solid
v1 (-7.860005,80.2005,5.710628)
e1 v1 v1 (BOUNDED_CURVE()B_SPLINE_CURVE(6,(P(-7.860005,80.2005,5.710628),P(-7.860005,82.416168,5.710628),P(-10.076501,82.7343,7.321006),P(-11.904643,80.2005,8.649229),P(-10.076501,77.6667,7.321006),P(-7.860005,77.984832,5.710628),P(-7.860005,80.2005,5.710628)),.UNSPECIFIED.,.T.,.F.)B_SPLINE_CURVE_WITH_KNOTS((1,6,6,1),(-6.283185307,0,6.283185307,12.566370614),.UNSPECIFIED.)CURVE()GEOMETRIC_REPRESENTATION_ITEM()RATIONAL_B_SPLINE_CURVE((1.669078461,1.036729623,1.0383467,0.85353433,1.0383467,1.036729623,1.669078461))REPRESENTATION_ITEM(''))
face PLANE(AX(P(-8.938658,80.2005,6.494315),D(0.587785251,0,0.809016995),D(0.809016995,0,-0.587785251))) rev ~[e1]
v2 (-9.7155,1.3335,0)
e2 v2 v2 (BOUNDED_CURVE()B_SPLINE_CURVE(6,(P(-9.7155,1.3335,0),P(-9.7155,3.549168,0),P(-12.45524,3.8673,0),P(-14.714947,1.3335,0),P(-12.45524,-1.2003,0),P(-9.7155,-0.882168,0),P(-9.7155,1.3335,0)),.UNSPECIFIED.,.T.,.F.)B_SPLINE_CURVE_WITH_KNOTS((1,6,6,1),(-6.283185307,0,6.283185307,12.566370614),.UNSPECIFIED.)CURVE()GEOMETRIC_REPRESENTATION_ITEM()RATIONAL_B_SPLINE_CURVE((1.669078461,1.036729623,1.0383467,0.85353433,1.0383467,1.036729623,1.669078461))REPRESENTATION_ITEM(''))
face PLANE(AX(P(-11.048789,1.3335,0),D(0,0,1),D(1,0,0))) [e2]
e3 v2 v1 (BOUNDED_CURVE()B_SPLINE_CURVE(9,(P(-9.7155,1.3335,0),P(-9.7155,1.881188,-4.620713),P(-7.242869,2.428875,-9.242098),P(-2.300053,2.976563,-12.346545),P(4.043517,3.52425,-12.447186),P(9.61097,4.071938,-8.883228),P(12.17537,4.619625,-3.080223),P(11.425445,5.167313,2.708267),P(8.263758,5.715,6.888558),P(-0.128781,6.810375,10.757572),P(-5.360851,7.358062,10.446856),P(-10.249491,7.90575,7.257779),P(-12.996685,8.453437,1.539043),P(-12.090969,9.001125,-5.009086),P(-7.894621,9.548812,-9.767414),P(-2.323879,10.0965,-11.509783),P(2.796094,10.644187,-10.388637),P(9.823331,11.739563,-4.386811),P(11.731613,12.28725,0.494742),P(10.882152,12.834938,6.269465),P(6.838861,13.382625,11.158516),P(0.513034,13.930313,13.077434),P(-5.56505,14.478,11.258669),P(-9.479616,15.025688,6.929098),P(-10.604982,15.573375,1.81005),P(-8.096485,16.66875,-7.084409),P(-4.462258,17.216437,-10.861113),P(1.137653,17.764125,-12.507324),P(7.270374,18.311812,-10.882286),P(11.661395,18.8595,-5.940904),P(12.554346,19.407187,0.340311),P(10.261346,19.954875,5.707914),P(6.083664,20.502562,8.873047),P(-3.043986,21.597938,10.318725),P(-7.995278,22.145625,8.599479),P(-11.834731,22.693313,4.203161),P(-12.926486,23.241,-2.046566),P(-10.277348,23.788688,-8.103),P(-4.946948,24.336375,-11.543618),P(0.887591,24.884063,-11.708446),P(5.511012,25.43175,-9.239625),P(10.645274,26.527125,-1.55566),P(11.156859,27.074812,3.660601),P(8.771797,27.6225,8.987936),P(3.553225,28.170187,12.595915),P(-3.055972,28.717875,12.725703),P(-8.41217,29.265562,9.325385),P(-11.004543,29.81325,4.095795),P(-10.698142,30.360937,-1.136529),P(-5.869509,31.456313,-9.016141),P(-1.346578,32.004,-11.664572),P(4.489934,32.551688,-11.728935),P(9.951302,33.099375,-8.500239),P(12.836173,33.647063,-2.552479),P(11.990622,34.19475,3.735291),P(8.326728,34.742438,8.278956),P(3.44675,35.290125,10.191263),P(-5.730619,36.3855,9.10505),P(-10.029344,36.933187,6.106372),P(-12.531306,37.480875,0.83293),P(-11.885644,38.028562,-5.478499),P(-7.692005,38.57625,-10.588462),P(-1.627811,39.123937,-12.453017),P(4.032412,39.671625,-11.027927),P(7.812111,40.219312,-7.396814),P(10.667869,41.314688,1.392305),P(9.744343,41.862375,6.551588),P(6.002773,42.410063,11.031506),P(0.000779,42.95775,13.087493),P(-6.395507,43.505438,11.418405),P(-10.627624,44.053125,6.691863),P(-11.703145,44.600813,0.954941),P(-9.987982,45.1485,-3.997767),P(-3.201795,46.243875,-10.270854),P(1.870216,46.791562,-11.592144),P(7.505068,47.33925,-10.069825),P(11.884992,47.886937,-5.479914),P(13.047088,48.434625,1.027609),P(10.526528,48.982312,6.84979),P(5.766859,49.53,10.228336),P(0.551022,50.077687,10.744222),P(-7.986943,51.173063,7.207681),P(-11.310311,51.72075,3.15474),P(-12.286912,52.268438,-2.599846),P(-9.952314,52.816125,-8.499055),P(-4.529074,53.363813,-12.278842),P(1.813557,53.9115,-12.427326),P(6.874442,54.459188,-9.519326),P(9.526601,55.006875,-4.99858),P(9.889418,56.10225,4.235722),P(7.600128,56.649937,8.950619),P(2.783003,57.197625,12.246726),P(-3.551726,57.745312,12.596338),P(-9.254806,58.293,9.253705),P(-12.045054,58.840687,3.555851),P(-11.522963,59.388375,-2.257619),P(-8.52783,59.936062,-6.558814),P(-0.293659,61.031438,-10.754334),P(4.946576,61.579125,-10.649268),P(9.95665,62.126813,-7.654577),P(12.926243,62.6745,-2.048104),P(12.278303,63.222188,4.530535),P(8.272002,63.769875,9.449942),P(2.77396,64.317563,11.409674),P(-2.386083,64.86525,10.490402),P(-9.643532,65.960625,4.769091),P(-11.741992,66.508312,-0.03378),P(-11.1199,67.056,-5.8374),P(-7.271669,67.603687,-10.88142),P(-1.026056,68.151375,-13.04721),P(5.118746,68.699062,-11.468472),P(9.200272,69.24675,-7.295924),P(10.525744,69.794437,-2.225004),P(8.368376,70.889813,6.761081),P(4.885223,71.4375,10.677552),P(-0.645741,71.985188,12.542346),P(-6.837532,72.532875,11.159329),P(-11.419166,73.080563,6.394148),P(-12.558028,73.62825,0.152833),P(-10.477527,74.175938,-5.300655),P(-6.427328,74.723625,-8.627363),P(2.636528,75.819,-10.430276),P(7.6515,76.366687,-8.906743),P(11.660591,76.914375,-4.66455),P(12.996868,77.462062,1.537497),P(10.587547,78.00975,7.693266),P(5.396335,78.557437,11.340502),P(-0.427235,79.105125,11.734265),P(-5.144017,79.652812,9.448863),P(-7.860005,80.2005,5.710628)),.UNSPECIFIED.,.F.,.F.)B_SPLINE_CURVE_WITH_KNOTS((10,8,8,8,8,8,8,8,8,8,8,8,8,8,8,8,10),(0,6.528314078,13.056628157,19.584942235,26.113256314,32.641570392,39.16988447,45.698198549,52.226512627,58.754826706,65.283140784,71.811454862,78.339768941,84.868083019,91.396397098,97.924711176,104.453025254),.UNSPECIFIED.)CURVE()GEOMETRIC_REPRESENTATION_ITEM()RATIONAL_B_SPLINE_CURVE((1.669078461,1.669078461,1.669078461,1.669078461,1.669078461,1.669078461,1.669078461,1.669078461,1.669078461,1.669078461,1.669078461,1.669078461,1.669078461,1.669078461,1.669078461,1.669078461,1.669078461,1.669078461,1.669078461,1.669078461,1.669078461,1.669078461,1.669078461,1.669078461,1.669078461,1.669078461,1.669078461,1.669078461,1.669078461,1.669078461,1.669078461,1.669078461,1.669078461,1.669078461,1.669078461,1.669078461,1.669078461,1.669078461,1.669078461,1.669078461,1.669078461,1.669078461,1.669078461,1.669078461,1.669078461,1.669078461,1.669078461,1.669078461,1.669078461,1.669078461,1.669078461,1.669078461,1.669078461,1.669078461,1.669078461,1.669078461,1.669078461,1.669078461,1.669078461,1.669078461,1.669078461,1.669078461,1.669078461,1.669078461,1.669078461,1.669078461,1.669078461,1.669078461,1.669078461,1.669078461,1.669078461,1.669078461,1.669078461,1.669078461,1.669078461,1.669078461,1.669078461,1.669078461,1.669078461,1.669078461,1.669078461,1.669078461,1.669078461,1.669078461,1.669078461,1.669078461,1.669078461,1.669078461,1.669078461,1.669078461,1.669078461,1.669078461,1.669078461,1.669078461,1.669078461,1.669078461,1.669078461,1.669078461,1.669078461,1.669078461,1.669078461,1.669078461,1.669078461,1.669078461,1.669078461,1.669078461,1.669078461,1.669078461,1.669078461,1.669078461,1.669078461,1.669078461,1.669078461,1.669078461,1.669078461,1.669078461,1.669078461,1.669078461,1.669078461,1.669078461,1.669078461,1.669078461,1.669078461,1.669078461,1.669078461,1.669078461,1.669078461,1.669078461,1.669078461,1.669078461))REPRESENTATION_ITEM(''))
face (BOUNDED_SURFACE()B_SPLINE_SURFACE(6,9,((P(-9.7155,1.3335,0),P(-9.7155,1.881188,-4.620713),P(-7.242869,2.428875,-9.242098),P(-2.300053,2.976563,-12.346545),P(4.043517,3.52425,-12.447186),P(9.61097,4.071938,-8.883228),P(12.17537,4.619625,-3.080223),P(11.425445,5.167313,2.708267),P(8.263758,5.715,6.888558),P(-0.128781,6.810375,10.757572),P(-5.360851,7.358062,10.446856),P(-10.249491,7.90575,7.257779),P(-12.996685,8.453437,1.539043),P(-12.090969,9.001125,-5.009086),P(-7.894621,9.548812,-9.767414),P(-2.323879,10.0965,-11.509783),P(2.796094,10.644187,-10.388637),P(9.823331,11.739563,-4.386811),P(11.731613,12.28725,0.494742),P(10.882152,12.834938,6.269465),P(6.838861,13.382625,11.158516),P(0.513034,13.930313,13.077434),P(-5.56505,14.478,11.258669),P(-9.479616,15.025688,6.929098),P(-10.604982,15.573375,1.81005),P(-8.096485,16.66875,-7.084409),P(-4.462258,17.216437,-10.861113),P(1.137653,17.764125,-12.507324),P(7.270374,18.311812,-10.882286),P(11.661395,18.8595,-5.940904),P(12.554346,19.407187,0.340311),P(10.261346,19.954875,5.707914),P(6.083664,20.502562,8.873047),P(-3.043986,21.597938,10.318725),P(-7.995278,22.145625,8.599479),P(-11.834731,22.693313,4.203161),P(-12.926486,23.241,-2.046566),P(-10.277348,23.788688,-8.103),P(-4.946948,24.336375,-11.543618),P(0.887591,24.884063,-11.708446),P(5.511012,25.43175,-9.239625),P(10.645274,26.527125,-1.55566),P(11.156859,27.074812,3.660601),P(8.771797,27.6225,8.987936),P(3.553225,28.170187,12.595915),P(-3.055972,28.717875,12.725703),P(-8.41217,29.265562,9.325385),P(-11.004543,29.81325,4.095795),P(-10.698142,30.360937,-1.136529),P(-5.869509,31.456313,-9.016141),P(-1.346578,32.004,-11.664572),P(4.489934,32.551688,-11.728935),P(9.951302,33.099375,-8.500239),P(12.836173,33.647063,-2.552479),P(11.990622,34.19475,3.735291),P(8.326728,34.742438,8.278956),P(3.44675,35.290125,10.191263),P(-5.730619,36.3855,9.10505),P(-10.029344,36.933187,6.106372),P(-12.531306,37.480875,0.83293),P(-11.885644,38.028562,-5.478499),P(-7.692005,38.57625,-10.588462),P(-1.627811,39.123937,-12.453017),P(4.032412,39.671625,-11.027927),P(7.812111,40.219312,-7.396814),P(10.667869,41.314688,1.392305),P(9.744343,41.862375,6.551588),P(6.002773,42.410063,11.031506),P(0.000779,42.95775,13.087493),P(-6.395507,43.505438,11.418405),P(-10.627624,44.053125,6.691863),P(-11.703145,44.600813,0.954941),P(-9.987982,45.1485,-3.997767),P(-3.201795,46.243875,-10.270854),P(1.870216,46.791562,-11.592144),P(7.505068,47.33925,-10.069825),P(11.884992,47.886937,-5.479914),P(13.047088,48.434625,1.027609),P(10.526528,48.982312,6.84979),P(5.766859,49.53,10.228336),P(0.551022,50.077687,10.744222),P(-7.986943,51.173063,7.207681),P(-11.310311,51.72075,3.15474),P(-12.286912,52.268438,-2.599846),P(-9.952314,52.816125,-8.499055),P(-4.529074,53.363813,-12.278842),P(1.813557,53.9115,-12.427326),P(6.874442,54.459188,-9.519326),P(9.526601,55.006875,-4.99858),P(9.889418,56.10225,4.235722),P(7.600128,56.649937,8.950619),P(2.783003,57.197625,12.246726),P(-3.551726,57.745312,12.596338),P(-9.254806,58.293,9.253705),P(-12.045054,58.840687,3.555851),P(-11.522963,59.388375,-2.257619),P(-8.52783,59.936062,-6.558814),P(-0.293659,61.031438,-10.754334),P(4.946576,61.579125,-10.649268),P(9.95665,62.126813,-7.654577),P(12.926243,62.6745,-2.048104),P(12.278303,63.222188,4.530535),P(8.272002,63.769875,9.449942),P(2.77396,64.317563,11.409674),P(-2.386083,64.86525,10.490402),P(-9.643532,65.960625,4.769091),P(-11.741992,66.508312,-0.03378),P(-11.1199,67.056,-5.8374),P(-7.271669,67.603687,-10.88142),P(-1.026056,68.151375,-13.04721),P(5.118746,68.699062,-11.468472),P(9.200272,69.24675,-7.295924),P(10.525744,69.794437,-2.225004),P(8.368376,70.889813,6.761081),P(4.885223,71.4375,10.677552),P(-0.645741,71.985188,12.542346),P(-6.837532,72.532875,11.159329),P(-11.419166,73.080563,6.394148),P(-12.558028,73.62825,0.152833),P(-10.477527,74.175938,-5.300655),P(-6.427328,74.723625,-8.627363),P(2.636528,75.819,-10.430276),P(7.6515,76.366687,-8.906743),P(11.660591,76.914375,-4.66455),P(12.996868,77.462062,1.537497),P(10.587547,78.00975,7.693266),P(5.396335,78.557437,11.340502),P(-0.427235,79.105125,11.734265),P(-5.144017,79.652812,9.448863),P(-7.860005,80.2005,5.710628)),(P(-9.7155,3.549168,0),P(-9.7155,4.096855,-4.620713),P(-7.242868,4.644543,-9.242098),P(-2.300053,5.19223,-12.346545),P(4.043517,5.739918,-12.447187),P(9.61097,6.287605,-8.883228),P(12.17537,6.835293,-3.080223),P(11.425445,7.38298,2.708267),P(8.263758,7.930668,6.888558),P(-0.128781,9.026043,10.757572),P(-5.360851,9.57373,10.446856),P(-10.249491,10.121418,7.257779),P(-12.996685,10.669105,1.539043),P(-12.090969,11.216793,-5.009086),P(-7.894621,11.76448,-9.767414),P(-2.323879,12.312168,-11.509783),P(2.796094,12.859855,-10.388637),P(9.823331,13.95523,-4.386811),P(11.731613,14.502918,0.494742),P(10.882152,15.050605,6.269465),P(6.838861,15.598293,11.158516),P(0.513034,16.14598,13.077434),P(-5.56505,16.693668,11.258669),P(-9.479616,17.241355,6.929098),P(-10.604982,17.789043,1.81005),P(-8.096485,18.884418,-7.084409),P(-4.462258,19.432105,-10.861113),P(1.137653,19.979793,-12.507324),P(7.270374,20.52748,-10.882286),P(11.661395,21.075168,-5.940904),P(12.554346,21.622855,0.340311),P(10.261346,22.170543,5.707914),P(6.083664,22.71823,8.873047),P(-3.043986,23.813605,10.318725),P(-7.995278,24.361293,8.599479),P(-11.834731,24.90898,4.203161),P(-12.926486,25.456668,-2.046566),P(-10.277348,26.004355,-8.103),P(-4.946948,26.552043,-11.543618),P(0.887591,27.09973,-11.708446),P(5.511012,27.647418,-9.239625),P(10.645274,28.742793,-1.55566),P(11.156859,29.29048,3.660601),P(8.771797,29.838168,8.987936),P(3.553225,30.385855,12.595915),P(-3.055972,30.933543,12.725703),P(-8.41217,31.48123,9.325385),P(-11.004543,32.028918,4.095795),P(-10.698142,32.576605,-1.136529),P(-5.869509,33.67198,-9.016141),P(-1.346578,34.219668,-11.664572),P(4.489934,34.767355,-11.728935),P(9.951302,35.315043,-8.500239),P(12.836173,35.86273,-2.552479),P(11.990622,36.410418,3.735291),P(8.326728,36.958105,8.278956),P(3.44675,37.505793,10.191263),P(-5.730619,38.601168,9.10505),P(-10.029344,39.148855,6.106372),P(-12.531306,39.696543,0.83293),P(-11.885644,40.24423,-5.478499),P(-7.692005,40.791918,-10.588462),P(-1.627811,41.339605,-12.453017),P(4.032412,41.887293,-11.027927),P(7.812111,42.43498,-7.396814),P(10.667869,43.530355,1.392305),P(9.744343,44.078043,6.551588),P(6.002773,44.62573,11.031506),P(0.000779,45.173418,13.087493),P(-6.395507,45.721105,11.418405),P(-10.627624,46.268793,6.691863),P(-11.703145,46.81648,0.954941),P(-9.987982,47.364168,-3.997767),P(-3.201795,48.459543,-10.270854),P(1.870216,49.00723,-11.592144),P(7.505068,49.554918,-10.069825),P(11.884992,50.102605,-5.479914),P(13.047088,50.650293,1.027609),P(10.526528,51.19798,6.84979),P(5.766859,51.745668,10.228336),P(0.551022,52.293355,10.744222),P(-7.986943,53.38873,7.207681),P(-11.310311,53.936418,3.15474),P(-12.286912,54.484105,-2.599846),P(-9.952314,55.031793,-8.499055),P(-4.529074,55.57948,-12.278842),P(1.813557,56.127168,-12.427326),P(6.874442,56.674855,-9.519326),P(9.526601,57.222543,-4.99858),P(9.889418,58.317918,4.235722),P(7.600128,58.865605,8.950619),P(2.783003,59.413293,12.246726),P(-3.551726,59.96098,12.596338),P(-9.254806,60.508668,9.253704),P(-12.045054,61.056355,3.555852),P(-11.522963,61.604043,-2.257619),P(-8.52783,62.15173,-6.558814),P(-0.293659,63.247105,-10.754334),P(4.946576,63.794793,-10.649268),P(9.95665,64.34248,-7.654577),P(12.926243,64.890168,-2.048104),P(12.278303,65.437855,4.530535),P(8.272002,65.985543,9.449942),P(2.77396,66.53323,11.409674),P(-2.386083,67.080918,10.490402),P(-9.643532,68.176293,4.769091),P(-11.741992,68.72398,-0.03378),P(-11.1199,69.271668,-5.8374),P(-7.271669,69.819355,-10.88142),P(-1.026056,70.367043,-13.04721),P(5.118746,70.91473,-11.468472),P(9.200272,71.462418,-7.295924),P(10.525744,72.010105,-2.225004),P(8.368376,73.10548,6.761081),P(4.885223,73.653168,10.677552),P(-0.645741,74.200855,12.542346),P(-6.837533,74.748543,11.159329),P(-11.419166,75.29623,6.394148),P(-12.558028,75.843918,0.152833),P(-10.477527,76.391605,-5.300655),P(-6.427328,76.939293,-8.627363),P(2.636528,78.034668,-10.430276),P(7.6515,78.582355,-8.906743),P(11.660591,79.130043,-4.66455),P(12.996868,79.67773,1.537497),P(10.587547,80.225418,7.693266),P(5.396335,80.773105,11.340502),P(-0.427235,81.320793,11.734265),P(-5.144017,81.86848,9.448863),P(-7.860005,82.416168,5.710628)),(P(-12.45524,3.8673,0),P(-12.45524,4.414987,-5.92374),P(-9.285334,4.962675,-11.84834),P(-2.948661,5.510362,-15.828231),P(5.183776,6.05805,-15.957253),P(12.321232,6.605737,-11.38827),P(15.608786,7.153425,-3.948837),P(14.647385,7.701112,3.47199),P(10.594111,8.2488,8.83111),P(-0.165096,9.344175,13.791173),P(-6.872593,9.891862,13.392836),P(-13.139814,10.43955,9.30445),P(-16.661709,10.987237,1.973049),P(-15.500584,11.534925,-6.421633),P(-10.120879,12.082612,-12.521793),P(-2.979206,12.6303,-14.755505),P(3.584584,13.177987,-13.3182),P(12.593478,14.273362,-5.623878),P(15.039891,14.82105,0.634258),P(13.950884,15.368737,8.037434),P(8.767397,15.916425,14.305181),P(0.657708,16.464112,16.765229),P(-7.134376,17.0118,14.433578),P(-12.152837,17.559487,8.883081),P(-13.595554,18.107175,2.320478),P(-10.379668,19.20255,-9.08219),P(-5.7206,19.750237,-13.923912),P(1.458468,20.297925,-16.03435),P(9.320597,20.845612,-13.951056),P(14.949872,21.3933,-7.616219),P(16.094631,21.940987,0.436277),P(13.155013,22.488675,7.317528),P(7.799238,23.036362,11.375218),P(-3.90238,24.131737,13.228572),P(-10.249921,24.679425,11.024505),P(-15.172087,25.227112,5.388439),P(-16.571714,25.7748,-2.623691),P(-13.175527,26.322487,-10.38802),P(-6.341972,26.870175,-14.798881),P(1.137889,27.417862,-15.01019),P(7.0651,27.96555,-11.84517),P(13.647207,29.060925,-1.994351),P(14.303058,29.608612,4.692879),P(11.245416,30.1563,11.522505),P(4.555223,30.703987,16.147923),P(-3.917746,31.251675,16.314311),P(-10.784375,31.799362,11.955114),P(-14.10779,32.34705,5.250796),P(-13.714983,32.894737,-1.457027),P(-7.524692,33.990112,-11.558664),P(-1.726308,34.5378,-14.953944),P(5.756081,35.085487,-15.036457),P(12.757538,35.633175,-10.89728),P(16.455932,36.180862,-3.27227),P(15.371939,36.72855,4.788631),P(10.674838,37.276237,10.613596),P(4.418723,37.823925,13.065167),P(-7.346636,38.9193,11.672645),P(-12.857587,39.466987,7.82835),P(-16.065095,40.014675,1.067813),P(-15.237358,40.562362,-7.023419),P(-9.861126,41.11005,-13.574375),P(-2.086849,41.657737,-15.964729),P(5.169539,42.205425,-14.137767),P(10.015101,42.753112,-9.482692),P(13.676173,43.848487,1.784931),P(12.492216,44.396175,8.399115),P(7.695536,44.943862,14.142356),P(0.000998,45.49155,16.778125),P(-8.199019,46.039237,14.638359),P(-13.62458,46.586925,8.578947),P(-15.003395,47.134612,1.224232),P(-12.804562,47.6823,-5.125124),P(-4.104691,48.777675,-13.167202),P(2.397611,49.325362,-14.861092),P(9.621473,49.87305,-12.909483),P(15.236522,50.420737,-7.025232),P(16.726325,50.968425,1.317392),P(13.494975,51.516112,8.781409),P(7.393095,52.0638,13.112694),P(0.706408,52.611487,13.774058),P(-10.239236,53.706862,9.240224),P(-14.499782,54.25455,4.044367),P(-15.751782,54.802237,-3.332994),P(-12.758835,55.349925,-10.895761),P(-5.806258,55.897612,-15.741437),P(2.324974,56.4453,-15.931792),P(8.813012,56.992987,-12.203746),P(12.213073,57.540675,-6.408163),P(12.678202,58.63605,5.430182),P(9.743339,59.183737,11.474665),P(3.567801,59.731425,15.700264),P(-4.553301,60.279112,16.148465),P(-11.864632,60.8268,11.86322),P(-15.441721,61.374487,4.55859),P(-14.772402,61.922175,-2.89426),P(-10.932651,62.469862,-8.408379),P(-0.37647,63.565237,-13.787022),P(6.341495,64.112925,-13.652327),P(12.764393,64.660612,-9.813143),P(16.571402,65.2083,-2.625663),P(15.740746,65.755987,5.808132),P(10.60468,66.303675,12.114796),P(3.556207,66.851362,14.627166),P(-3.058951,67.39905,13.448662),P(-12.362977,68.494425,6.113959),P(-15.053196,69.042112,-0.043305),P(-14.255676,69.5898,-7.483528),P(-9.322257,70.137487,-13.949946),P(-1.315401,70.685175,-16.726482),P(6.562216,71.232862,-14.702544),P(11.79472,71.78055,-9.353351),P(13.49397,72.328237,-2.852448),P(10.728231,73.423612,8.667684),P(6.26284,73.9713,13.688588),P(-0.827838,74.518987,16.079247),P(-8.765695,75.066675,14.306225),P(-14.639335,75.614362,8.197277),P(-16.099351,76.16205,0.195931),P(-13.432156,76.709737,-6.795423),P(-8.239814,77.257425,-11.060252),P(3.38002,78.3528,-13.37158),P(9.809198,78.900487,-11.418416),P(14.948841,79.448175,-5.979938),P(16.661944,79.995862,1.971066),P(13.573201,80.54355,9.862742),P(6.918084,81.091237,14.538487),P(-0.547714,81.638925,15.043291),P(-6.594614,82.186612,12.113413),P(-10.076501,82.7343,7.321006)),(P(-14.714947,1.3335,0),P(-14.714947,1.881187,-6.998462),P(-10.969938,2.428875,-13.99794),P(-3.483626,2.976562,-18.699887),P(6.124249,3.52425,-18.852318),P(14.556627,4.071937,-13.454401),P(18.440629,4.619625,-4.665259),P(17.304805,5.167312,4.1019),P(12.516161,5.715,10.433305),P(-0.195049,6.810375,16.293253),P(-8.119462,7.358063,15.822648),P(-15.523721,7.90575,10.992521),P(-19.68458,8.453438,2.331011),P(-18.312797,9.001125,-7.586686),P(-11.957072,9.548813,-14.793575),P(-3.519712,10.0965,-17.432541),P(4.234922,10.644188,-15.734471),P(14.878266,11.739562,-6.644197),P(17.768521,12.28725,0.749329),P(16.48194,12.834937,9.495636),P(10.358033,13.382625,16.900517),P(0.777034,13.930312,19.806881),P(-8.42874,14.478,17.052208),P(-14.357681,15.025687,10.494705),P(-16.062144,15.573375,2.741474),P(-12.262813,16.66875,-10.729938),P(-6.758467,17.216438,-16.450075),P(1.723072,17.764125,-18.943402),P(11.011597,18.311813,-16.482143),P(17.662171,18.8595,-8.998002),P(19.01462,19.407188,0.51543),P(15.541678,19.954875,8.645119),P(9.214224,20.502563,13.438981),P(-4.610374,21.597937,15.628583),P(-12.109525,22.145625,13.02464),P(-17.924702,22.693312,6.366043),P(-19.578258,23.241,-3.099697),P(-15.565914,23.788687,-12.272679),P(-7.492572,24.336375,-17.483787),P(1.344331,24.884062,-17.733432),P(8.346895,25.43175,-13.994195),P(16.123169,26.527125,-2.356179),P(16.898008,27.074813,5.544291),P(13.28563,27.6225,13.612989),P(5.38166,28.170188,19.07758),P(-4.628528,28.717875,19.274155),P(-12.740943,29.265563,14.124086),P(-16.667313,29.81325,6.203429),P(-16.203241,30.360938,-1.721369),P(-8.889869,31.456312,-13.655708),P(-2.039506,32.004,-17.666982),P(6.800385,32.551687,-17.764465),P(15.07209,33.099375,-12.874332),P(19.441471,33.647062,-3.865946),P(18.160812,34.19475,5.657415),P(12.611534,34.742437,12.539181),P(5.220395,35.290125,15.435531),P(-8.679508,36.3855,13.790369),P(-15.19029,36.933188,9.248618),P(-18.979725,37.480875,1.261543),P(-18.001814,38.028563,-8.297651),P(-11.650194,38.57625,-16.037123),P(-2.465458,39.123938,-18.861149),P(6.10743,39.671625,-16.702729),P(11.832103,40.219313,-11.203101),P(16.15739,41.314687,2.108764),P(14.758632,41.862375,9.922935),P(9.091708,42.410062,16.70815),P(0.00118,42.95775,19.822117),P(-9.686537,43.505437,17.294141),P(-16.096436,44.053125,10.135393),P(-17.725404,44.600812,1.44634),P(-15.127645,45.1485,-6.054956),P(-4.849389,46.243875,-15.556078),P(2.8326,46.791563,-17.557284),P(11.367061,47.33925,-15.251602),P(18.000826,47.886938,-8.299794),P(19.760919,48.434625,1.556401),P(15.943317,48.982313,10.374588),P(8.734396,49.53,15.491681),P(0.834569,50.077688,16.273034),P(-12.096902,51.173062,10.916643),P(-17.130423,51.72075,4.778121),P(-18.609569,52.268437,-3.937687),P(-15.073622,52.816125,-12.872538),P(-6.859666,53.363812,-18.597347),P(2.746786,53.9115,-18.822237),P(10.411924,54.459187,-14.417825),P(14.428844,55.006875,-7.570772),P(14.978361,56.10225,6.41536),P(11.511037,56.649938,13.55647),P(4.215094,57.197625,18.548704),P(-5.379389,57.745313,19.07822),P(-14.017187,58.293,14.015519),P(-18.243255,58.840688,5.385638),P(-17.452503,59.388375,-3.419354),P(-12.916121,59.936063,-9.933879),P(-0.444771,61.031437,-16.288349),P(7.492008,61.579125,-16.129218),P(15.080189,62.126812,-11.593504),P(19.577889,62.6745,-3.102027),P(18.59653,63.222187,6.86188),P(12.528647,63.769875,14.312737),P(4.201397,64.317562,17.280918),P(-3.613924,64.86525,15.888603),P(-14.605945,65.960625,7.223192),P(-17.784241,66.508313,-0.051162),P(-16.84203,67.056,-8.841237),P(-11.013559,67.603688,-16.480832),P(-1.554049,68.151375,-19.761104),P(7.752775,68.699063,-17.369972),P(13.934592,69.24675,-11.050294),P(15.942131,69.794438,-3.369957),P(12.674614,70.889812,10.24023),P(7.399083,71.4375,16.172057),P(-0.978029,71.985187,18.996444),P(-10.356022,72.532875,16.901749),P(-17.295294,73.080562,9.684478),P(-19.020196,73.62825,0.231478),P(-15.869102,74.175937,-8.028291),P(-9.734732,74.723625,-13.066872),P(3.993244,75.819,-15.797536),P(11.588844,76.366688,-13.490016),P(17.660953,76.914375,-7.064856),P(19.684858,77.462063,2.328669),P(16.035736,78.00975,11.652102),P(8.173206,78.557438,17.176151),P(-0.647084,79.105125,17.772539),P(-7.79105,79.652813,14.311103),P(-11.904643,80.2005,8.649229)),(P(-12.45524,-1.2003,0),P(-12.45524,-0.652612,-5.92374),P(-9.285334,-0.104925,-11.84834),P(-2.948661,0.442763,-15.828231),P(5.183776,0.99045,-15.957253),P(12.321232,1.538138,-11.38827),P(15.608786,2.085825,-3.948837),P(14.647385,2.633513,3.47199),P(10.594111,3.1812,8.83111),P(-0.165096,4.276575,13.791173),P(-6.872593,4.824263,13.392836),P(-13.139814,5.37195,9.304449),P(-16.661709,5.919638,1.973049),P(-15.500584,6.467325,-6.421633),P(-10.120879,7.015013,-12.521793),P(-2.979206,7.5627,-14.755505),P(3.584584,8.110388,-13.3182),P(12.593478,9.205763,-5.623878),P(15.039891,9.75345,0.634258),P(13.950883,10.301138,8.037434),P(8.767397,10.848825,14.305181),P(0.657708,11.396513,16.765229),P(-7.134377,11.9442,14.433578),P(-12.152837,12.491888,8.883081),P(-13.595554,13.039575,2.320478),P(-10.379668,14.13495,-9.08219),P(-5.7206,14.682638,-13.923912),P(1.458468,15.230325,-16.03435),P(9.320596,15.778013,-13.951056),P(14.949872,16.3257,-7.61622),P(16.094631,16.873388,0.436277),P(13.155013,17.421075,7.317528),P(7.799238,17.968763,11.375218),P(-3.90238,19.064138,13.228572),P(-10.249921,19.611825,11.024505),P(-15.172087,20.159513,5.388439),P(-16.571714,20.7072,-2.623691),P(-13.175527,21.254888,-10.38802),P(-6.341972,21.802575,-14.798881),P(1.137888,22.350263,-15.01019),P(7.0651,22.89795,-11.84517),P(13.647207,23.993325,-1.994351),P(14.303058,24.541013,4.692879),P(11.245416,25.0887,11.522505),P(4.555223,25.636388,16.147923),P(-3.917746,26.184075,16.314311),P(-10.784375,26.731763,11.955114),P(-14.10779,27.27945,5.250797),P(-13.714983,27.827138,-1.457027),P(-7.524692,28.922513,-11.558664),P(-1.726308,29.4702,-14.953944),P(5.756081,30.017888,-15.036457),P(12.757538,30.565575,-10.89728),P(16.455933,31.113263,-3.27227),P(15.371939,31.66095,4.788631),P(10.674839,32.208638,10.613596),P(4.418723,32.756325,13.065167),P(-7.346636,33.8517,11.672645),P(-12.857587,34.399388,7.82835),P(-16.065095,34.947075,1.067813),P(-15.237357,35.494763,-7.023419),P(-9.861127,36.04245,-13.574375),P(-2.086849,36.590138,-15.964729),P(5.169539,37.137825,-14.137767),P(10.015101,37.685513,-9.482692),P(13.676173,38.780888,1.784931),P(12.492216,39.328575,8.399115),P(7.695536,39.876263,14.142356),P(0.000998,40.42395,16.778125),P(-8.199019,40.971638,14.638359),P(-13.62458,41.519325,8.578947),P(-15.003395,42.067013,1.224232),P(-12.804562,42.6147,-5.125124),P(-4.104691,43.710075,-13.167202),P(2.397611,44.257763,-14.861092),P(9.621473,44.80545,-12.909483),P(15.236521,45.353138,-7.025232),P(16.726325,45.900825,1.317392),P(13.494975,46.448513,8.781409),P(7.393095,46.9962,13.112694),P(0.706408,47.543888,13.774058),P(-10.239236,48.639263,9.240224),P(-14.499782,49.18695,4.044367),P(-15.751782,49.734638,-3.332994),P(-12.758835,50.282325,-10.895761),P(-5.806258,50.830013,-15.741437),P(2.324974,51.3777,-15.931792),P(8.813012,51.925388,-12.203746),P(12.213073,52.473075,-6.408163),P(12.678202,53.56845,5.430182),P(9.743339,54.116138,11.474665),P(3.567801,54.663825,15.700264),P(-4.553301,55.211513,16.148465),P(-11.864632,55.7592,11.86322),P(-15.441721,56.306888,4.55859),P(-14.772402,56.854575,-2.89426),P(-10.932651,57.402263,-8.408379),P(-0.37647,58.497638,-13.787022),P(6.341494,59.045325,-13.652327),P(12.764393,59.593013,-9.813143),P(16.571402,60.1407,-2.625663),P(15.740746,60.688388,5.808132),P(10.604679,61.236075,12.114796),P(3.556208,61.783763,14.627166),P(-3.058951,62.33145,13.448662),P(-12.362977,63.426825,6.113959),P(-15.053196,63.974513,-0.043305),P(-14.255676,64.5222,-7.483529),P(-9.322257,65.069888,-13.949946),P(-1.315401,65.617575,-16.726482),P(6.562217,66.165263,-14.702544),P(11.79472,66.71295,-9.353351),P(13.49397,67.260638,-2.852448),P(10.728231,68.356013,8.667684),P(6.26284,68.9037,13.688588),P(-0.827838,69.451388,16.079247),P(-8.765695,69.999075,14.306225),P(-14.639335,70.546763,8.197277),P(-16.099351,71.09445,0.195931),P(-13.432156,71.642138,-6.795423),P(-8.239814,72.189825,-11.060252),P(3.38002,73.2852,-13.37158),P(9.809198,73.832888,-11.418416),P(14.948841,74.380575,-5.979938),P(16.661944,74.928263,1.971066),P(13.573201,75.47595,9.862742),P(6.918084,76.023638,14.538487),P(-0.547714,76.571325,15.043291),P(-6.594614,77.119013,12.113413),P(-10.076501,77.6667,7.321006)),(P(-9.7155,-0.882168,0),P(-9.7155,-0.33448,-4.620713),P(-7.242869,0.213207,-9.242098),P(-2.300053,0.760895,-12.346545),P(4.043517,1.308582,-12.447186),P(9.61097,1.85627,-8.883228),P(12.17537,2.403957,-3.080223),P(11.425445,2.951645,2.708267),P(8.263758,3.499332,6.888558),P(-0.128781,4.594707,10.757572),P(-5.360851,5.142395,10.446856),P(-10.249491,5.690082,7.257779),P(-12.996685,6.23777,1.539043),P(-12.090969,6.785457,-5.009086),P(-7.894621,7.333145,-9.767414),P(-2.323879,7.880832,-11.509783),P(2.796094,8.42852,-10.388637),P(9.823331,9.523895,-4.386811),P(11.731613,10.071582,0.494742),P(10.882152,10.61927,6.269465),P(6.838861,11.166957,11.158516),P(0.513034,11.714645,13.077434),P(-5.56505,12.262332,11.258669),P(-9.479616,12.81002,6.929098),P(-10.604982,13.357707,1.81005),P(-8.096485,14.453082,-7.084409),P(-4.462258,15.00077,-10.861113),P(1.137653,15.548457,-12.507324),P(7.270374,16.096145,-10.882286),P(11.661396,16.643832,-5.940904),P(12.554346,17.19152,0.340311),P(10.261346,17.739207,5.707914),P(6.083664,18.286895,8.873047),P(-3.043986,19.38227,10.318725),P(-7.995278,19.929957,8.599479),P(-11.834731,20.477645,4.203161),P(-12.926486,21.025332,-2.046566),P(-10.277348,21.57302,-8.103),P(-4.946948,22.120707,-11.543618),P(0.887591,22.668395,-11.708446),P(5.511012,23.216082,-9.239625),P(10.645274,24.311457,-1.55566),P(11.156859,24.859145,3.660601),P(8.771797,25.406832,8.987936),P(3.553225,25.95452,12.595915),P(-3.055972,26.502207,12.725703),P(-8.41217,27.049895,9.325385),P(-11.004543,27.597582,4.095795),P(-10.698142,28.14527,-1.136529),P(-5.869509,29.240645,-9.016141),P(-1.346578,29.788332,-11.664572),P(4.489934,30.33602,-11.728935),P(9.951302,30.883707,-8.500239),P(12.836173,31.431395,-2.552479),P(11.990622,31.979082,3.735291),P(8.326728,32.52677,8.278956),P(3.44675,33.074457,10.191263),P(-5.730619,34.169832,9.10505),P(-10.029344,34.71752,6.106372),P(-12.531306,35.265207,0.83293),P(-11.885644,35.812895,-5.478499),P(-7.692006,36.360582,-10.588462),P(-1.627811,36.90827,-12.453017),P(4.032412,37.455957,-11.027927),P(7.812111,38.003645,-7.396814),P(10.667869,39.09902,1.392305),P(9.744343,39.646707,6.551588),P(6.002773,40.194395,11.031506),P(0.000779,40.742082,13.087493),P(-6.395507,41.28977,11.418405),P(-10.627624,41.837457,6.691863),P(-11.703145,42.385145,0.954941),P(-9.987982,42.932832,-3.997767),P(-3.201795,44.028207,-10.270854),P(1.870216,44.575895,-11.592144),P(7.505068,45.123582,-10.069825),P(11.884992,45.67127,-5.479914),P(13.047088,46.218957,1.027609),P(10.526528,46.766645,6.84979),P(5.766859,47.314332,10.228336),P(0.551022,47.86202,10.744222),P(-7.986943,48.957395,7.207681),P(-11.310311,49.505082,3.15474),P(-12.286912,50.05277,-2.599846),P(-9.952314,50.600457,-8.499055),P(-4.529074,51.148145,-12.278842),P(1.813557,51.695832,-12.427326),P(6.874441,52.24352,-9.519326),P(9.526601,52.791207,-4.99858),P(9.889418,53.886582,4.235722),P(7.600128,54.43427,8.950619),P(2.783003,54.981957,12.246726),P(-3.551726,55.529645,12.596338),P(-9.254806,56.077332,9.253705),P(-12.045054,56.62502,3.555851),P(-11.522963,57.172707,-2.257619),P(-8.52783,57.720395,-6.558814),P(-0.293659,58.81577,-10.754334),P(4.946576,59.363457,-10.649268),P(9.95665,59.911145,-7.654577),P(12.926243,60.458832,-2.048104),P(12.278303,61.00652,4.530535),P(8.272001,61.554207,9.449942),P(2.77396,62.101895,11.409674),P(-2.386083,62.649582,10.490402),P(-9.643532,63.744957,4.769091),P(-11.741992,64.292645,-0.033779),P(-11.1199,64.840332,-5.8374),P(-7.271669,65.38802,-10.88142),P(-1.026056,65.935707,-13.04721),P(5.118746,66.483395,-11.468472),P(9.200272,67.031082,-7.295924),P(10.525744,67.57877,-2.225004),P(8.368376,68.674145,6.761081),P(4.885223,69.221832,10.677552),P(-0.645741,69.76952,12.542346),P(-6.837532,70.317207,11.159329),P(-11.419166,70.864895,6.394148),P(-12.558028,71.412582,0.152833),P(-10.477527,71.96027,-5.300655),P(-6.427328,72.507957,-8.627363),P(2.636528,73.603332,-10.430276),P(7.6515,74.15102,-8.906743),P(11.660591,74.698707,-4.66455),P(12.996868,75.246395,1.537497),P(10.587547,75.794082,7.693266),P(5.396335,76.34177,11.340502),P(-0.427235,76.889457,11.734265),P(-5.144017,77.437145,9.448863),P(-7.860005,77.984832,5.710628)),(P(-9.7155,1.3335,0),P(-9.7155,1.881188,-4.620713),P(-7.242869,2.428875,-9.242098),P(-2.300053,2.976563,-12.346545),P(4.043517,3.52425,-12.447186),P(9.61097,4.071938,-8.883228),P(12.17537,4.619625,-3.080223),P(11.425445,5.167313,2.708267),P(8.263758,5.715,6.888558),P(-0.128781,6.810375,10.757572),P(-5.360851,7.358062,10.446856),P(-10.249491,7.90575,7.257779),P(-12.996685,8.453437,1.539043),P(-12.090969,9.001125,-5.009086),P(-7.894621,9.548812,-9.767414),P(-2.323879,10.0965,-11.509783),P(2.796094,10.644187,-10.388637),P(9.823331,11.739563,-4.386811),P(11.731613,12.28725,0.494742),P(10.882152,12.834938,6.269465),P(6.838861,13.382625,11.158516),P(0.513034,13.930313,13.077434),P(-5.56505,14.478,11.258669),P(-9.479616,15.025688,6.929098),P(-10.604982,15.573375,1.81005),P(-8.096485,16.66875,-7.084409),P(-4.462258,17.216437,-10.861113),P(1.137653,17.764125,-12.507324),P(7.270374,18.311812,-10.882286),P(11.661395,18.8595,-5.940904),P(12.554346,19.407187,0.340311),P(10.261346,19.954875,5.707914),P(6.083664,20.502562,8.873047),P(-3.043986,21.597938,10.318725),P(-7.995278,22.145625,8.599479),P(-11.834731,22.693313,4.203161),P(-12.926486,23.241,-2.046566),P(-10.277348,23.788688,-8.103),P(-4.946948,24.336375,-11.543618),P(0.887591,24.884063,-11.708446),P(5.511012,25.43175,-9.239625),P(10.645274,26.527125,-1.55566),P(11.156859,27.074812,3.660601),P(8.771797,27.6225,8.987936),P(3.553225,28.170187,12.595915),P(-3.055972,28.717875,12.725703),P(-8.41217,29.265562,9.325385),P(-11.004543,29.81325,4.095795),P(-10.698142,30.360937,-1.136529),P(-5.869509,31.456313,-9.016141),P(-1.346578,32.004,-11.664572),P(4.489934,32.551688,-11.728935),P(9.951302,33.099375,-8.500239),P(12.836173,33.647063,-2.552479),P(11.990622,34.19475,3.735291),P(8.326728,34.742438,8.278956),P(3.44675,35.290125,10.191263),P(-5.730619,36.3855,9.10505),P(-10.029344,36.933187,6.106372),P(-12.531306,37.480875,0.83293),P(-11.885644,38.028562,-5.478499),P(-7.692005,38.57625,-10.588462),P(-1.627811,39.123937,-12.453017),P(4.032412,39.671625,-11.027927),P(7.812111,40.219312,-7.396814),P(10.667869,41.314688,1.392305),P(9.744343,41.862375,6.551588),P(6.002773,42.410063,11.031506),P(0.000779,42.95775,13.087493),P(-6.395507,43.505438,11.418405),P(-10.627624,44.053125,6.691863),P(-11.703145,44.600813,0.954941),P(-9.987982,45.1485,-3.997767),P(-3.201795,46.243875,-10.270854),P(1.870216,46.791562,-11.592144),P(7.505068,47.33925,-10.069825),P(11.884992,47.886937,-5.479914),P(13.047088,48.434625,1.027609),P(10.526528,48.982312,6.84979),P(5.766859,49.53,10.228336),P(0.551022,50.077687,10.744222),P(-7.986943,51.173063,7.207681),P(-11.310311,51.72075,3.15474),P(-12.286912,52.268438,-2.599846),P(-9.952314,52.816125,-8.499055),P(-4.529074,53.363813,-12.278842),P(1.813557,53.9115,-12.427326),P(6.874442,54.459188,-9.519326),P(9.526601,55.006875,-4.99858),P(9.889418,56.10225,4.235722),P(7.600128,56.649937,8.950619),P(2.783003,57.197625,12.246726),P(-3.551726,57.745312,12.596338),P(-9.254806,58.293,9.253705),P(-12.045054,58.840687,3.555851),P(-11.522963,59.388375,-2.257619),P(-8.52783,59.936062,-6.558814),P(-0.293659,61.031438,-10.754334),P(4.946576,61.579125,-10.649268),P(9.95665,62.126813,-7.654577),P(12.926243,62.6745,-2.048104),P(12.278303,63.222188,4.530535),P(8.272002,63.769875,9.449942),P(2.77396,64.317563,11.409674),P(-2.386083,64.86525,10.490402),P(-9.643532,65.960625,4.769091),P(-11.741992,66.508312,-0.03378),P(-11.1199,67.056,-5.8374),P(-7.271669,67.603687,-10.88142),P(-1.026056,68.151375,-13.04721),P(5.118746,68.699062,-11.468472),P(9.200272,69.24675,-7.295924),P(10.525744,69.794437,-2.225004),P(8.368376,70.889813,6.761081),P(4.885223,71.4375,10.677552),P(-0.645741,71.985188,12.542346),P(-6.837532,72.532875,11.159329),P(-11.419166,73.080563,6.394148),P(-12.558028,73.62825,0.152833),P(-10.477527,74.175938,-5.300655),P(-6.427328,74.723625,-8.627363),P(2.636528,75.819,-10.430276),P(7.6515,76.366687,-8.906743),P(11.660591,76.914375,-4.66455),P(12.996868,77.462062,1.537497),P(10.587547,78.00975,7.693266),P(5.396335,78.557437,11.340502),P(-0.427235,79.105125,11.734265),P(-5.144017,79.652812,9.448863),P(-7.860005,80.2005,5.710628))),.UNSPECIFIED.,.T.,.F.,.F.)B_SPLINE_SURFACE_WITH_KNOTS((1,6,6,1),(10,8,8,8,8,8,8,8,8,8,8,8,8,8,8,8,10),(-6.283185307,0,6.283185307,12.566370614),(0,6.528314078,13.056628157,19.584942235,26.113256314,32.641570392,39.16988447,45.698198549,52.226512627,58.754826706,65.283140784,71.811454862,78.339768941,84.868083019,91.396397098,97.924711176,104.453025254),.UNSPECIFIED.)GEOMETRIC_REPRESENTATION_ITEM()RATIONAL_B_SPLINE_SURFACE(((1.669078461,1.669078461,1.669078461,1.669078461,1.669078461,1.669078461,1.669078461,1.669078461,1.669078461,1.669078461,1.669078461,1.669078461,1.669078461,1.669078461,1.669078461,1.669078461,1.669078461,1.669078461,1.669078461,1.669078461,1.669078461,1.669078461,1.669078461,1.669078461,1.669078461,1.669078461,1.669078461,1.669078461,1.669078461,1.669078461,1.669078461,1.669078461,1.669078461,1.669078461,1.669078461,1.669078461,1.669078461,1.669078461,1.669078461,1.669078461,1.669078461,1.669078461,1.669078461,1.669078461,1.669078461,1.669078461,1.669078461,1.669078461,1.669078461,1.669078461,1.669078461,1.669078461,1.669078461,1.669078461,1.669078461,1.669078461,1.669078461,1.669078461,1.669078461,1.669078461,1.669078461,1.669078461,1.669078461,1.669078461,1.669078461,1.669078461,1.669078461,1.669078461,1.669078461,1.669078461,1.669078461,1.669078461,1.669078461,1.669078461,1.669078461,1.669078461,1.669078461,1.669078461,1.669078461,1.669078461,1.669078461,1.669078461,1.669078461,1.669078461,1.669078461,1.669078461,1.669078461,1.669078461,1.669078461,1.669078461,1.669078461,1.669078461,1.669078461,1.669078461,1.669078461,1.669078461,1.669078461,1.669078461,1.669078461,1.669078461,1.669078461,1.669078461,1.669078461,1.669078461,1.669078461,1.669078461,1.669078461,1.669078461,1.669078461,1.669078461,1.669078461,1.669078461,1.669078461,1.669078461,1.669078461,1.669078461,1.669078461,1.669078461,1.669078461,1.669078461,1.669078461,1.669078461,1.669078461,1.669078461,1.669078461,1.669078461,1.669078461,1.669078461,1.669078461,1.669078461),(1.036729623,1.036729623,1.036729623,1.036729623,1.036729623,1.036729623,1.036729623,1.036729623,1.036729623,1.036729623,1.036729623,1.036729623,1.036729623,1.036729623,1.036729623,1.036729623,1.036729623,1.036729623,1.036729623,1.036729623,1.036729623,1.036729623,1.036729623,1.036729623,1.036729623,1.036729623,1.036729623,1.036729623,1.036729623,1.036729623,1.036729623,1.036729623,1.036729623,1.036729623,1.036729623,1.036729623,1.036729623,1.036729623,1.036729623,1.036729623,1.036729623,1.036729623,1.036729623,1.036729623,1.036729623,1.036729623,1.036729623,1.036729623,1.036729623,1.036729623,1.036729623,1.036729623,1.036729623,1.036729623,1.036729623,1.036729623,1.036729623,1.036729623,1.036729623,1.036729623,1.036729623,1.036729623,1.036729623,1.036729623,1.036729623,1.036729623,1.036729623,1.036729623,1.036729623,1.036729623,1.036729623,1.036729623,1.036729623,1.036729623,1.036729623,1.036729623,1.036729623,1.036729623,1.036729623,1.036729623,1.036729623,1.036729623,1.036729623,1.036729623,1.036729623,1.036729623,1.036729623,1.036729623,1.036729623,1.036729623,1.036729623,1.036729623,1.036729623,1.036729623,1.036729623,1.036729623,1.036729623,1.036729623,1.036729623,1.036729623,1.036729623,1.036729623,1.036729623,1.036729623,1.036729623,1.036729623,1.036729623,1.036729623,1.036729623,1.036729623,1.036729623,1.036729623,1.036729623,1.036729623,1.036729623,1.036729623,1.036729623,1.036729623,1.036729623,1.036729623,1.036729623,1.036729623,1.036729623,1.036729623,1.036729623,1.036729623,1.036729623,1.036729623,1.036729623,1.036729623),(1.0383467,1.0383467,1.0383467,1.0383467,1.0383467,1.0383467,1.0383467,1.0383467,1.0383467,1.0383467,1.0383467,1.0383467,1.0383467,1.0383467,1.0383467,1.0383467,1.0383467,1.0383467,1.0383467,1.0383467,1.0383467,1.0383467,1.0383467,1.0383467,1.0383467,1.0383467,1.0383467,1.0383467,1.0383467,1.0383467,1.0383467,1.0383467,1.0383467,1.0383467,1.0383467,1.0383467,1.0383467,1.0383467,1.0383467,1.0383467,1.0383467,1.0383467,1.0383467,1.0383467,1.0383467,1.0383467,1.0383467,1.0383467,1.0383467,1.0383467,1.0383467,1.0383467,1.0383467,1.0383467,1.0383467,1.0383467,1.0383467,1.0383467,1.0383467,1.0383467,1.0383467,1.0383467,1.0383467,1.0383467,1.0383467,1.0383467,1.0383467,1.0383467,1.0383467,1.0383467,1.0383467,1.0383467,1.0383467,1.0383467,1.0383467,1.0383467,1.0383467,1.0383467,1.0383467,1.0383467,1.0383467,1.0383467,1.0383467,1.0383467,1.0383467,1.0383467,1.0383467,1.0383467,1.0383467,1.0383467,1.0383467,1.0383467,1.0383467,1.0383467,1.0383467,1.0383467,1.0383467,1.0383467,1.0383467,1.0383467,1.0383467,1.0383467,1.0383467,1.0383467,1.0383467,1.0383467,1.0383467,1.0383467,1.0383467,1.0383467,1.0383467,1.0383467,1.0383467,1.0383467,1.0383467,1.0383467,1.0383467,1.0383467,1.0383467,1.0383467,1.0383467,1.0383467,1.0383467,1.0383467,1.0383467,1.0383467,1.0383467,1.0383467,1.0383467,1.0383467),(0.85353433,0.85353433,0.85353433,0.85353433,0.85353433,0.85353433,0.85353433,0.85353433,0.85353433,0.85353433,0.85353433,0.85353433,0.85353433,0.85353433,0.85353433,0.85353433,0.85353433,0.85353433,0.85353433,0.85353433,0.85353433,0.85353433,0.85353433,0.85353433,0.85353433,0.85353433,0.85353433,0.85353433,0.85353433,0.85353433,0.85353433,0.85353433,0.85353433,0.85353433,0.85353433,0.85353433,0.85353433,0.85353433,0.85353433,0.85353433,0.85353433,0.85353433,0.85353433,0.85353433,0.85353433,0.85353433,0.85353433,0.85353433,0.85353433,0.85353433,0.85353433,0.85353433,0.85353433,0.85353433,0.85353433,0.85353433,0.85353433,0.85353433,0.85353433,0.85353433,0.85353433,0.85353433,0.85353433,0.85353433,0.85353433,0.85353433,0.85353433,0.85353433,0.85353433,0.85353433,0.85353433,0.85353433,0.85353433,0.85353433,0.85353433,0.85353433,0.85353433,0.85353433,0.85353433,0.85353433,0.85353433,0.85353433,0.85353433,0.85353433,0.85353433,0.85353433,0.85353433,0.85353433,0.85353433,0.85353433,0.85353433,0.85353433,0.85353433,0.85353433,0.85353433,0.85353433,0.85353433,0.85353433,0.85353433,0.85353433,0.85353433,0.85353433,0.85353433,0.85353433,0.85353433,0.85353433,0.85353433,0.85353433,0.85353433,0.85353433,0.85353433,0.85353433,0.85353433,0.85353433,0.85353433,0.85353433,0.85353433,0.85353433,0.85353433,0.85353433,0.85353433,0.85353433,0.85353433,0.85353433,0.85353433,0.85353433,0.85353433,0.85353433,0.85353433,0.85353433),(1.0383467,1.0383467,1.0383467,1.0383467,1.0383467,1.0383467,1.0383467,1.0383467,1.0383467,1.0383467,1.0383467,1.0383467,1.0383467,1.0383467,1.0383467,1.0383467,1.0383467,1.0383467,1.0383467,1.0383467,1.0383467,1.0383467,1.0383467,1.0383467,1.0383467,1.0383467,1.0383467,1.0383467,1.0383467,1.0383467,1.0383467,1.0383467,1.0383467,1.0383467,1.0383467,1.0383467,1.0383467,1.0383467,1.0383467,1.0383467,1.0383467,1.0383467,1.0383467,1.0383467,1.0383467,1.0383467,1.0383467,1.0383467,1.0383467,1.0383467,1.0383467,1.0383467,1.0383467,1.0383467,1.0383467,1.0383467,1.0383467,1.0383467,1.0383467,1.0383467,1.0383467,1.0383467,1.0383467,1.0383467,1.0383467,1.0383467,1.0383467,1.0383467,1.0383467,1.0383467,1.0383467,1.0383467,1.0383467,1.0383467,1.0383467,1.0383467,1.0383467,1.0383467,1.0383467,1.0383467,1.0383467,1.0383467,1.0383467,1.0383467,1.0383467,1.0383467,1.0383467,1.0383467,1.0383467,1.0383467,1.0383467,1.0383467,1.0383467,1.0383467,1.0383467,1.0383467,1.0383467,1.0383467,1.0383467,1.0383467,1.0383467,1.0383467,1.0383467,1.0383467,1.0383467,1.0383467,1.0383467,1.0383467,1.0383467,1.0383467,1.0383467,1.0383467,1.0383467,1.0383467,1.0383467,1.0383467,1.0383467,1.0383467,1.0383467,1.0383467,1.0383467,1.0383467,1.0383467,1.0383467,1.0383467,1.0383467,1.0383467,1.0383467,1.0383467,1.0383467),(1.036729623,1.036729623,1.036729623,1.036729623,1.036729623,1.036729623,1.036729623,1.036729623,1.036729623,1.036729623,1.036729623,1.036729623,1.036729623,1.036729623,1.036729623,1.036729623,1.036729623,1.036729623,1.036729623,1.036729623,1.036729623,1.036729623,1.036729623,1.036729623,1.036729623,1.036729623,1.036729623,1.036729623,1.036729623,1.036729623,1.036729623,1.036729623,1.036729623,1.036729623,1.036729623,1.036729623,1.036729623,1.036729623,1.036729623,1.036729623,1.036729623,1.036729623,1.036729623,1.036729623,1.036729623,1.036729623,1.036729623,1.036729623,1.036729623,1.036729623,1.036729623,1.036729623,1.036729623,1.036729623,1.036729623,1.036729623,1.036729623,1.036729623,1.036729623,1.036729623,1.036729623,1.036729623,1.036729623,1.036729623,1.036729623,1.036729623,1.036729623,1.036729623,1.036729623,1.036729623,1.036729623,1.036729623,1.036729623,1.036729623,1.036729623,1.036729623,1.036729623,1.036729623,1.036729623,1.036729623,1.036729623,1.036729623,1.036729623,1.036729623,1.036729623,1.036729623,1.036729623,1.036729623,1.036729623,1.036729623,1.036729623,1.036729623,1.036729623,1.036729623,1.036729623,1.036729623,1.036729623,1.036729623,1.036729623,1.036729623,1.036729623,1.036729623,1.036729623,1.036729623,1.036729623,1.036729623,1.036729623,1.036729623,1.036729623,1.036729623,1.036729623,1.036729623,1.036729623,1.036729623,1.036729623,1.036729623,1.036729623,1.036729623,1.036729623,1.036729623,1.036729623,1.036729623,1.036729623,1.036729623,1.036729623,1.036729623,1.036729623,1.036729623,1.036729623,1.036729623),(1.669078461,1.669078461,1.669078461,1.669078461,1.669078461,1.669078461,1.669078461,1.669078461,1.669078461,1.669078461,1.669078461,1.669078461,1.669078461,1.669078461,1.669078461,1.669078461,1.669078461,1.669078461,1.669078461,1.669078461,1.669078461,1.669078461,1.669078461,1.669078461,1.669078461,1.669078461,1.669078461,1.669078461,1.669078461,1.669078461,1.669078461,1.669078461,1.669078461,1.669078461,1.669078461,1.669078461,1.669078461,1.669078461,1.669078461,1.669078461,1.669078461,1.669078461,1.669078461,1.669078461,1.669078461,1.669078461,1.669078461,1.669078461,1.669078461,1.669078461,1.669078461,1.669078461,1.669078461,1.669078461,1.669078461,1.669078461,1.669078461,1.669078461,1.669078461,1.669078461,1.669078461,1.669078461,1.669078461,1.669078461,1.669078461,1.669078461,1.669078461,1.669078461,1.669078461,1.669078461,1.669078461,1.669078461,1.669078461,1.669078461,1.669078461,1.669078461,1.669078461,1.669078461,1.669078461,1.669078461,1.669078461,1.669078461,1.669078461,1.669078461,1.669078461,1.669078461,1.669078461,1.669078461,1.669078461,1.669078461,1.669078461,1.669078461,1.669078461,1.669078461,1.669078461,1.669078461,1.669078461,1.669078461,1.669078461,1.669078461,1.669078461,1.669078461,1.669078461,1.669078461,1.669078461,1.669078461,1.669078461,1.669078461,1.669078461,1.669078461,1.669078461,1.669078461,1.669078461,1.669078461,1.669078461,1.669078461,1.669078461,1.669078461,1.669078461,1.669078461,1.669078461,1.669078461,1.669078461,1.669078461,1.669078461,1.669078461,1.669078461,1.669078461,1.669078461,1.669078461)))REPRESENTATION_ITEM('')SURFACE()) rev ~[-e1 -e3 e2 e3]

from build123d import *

# Parameters (mm, degrees)
SWEEP1_PITCH       = 7.235504587
SWEEP1_HEIGHT      = 78.867
SWEEP1_RADIUS      = 12.3825
SWEEP1_START_ANGLE = -90
SKETCH2_R          = 1.3335


with BuildPart() as part:
    # Sweep1: sweep along a helix
    with BuildLine() as sweep1_path:
        add(Helix(SWEEP1_PITCH, SWEEP1_HEIGHT, SWEEP1_RADIUS, center=(0, 0, 0), direction=(0, 1, 0), lefthand=True, mode=Mode.PRIVATE).rotate(Axis((0, 0, 0), (0, 1, 0)), SWEEP1_START_ANGLE))
    # Sketch2 → Sweep1 (sweep)
    with BuildSketch(Plane.XY):
        with Locations((-11.049, 1.3335)):
            Circle(SKETCH2_R)
    sweep(path=sweep1_path.line, is_frenet=True)


solid = part.part
